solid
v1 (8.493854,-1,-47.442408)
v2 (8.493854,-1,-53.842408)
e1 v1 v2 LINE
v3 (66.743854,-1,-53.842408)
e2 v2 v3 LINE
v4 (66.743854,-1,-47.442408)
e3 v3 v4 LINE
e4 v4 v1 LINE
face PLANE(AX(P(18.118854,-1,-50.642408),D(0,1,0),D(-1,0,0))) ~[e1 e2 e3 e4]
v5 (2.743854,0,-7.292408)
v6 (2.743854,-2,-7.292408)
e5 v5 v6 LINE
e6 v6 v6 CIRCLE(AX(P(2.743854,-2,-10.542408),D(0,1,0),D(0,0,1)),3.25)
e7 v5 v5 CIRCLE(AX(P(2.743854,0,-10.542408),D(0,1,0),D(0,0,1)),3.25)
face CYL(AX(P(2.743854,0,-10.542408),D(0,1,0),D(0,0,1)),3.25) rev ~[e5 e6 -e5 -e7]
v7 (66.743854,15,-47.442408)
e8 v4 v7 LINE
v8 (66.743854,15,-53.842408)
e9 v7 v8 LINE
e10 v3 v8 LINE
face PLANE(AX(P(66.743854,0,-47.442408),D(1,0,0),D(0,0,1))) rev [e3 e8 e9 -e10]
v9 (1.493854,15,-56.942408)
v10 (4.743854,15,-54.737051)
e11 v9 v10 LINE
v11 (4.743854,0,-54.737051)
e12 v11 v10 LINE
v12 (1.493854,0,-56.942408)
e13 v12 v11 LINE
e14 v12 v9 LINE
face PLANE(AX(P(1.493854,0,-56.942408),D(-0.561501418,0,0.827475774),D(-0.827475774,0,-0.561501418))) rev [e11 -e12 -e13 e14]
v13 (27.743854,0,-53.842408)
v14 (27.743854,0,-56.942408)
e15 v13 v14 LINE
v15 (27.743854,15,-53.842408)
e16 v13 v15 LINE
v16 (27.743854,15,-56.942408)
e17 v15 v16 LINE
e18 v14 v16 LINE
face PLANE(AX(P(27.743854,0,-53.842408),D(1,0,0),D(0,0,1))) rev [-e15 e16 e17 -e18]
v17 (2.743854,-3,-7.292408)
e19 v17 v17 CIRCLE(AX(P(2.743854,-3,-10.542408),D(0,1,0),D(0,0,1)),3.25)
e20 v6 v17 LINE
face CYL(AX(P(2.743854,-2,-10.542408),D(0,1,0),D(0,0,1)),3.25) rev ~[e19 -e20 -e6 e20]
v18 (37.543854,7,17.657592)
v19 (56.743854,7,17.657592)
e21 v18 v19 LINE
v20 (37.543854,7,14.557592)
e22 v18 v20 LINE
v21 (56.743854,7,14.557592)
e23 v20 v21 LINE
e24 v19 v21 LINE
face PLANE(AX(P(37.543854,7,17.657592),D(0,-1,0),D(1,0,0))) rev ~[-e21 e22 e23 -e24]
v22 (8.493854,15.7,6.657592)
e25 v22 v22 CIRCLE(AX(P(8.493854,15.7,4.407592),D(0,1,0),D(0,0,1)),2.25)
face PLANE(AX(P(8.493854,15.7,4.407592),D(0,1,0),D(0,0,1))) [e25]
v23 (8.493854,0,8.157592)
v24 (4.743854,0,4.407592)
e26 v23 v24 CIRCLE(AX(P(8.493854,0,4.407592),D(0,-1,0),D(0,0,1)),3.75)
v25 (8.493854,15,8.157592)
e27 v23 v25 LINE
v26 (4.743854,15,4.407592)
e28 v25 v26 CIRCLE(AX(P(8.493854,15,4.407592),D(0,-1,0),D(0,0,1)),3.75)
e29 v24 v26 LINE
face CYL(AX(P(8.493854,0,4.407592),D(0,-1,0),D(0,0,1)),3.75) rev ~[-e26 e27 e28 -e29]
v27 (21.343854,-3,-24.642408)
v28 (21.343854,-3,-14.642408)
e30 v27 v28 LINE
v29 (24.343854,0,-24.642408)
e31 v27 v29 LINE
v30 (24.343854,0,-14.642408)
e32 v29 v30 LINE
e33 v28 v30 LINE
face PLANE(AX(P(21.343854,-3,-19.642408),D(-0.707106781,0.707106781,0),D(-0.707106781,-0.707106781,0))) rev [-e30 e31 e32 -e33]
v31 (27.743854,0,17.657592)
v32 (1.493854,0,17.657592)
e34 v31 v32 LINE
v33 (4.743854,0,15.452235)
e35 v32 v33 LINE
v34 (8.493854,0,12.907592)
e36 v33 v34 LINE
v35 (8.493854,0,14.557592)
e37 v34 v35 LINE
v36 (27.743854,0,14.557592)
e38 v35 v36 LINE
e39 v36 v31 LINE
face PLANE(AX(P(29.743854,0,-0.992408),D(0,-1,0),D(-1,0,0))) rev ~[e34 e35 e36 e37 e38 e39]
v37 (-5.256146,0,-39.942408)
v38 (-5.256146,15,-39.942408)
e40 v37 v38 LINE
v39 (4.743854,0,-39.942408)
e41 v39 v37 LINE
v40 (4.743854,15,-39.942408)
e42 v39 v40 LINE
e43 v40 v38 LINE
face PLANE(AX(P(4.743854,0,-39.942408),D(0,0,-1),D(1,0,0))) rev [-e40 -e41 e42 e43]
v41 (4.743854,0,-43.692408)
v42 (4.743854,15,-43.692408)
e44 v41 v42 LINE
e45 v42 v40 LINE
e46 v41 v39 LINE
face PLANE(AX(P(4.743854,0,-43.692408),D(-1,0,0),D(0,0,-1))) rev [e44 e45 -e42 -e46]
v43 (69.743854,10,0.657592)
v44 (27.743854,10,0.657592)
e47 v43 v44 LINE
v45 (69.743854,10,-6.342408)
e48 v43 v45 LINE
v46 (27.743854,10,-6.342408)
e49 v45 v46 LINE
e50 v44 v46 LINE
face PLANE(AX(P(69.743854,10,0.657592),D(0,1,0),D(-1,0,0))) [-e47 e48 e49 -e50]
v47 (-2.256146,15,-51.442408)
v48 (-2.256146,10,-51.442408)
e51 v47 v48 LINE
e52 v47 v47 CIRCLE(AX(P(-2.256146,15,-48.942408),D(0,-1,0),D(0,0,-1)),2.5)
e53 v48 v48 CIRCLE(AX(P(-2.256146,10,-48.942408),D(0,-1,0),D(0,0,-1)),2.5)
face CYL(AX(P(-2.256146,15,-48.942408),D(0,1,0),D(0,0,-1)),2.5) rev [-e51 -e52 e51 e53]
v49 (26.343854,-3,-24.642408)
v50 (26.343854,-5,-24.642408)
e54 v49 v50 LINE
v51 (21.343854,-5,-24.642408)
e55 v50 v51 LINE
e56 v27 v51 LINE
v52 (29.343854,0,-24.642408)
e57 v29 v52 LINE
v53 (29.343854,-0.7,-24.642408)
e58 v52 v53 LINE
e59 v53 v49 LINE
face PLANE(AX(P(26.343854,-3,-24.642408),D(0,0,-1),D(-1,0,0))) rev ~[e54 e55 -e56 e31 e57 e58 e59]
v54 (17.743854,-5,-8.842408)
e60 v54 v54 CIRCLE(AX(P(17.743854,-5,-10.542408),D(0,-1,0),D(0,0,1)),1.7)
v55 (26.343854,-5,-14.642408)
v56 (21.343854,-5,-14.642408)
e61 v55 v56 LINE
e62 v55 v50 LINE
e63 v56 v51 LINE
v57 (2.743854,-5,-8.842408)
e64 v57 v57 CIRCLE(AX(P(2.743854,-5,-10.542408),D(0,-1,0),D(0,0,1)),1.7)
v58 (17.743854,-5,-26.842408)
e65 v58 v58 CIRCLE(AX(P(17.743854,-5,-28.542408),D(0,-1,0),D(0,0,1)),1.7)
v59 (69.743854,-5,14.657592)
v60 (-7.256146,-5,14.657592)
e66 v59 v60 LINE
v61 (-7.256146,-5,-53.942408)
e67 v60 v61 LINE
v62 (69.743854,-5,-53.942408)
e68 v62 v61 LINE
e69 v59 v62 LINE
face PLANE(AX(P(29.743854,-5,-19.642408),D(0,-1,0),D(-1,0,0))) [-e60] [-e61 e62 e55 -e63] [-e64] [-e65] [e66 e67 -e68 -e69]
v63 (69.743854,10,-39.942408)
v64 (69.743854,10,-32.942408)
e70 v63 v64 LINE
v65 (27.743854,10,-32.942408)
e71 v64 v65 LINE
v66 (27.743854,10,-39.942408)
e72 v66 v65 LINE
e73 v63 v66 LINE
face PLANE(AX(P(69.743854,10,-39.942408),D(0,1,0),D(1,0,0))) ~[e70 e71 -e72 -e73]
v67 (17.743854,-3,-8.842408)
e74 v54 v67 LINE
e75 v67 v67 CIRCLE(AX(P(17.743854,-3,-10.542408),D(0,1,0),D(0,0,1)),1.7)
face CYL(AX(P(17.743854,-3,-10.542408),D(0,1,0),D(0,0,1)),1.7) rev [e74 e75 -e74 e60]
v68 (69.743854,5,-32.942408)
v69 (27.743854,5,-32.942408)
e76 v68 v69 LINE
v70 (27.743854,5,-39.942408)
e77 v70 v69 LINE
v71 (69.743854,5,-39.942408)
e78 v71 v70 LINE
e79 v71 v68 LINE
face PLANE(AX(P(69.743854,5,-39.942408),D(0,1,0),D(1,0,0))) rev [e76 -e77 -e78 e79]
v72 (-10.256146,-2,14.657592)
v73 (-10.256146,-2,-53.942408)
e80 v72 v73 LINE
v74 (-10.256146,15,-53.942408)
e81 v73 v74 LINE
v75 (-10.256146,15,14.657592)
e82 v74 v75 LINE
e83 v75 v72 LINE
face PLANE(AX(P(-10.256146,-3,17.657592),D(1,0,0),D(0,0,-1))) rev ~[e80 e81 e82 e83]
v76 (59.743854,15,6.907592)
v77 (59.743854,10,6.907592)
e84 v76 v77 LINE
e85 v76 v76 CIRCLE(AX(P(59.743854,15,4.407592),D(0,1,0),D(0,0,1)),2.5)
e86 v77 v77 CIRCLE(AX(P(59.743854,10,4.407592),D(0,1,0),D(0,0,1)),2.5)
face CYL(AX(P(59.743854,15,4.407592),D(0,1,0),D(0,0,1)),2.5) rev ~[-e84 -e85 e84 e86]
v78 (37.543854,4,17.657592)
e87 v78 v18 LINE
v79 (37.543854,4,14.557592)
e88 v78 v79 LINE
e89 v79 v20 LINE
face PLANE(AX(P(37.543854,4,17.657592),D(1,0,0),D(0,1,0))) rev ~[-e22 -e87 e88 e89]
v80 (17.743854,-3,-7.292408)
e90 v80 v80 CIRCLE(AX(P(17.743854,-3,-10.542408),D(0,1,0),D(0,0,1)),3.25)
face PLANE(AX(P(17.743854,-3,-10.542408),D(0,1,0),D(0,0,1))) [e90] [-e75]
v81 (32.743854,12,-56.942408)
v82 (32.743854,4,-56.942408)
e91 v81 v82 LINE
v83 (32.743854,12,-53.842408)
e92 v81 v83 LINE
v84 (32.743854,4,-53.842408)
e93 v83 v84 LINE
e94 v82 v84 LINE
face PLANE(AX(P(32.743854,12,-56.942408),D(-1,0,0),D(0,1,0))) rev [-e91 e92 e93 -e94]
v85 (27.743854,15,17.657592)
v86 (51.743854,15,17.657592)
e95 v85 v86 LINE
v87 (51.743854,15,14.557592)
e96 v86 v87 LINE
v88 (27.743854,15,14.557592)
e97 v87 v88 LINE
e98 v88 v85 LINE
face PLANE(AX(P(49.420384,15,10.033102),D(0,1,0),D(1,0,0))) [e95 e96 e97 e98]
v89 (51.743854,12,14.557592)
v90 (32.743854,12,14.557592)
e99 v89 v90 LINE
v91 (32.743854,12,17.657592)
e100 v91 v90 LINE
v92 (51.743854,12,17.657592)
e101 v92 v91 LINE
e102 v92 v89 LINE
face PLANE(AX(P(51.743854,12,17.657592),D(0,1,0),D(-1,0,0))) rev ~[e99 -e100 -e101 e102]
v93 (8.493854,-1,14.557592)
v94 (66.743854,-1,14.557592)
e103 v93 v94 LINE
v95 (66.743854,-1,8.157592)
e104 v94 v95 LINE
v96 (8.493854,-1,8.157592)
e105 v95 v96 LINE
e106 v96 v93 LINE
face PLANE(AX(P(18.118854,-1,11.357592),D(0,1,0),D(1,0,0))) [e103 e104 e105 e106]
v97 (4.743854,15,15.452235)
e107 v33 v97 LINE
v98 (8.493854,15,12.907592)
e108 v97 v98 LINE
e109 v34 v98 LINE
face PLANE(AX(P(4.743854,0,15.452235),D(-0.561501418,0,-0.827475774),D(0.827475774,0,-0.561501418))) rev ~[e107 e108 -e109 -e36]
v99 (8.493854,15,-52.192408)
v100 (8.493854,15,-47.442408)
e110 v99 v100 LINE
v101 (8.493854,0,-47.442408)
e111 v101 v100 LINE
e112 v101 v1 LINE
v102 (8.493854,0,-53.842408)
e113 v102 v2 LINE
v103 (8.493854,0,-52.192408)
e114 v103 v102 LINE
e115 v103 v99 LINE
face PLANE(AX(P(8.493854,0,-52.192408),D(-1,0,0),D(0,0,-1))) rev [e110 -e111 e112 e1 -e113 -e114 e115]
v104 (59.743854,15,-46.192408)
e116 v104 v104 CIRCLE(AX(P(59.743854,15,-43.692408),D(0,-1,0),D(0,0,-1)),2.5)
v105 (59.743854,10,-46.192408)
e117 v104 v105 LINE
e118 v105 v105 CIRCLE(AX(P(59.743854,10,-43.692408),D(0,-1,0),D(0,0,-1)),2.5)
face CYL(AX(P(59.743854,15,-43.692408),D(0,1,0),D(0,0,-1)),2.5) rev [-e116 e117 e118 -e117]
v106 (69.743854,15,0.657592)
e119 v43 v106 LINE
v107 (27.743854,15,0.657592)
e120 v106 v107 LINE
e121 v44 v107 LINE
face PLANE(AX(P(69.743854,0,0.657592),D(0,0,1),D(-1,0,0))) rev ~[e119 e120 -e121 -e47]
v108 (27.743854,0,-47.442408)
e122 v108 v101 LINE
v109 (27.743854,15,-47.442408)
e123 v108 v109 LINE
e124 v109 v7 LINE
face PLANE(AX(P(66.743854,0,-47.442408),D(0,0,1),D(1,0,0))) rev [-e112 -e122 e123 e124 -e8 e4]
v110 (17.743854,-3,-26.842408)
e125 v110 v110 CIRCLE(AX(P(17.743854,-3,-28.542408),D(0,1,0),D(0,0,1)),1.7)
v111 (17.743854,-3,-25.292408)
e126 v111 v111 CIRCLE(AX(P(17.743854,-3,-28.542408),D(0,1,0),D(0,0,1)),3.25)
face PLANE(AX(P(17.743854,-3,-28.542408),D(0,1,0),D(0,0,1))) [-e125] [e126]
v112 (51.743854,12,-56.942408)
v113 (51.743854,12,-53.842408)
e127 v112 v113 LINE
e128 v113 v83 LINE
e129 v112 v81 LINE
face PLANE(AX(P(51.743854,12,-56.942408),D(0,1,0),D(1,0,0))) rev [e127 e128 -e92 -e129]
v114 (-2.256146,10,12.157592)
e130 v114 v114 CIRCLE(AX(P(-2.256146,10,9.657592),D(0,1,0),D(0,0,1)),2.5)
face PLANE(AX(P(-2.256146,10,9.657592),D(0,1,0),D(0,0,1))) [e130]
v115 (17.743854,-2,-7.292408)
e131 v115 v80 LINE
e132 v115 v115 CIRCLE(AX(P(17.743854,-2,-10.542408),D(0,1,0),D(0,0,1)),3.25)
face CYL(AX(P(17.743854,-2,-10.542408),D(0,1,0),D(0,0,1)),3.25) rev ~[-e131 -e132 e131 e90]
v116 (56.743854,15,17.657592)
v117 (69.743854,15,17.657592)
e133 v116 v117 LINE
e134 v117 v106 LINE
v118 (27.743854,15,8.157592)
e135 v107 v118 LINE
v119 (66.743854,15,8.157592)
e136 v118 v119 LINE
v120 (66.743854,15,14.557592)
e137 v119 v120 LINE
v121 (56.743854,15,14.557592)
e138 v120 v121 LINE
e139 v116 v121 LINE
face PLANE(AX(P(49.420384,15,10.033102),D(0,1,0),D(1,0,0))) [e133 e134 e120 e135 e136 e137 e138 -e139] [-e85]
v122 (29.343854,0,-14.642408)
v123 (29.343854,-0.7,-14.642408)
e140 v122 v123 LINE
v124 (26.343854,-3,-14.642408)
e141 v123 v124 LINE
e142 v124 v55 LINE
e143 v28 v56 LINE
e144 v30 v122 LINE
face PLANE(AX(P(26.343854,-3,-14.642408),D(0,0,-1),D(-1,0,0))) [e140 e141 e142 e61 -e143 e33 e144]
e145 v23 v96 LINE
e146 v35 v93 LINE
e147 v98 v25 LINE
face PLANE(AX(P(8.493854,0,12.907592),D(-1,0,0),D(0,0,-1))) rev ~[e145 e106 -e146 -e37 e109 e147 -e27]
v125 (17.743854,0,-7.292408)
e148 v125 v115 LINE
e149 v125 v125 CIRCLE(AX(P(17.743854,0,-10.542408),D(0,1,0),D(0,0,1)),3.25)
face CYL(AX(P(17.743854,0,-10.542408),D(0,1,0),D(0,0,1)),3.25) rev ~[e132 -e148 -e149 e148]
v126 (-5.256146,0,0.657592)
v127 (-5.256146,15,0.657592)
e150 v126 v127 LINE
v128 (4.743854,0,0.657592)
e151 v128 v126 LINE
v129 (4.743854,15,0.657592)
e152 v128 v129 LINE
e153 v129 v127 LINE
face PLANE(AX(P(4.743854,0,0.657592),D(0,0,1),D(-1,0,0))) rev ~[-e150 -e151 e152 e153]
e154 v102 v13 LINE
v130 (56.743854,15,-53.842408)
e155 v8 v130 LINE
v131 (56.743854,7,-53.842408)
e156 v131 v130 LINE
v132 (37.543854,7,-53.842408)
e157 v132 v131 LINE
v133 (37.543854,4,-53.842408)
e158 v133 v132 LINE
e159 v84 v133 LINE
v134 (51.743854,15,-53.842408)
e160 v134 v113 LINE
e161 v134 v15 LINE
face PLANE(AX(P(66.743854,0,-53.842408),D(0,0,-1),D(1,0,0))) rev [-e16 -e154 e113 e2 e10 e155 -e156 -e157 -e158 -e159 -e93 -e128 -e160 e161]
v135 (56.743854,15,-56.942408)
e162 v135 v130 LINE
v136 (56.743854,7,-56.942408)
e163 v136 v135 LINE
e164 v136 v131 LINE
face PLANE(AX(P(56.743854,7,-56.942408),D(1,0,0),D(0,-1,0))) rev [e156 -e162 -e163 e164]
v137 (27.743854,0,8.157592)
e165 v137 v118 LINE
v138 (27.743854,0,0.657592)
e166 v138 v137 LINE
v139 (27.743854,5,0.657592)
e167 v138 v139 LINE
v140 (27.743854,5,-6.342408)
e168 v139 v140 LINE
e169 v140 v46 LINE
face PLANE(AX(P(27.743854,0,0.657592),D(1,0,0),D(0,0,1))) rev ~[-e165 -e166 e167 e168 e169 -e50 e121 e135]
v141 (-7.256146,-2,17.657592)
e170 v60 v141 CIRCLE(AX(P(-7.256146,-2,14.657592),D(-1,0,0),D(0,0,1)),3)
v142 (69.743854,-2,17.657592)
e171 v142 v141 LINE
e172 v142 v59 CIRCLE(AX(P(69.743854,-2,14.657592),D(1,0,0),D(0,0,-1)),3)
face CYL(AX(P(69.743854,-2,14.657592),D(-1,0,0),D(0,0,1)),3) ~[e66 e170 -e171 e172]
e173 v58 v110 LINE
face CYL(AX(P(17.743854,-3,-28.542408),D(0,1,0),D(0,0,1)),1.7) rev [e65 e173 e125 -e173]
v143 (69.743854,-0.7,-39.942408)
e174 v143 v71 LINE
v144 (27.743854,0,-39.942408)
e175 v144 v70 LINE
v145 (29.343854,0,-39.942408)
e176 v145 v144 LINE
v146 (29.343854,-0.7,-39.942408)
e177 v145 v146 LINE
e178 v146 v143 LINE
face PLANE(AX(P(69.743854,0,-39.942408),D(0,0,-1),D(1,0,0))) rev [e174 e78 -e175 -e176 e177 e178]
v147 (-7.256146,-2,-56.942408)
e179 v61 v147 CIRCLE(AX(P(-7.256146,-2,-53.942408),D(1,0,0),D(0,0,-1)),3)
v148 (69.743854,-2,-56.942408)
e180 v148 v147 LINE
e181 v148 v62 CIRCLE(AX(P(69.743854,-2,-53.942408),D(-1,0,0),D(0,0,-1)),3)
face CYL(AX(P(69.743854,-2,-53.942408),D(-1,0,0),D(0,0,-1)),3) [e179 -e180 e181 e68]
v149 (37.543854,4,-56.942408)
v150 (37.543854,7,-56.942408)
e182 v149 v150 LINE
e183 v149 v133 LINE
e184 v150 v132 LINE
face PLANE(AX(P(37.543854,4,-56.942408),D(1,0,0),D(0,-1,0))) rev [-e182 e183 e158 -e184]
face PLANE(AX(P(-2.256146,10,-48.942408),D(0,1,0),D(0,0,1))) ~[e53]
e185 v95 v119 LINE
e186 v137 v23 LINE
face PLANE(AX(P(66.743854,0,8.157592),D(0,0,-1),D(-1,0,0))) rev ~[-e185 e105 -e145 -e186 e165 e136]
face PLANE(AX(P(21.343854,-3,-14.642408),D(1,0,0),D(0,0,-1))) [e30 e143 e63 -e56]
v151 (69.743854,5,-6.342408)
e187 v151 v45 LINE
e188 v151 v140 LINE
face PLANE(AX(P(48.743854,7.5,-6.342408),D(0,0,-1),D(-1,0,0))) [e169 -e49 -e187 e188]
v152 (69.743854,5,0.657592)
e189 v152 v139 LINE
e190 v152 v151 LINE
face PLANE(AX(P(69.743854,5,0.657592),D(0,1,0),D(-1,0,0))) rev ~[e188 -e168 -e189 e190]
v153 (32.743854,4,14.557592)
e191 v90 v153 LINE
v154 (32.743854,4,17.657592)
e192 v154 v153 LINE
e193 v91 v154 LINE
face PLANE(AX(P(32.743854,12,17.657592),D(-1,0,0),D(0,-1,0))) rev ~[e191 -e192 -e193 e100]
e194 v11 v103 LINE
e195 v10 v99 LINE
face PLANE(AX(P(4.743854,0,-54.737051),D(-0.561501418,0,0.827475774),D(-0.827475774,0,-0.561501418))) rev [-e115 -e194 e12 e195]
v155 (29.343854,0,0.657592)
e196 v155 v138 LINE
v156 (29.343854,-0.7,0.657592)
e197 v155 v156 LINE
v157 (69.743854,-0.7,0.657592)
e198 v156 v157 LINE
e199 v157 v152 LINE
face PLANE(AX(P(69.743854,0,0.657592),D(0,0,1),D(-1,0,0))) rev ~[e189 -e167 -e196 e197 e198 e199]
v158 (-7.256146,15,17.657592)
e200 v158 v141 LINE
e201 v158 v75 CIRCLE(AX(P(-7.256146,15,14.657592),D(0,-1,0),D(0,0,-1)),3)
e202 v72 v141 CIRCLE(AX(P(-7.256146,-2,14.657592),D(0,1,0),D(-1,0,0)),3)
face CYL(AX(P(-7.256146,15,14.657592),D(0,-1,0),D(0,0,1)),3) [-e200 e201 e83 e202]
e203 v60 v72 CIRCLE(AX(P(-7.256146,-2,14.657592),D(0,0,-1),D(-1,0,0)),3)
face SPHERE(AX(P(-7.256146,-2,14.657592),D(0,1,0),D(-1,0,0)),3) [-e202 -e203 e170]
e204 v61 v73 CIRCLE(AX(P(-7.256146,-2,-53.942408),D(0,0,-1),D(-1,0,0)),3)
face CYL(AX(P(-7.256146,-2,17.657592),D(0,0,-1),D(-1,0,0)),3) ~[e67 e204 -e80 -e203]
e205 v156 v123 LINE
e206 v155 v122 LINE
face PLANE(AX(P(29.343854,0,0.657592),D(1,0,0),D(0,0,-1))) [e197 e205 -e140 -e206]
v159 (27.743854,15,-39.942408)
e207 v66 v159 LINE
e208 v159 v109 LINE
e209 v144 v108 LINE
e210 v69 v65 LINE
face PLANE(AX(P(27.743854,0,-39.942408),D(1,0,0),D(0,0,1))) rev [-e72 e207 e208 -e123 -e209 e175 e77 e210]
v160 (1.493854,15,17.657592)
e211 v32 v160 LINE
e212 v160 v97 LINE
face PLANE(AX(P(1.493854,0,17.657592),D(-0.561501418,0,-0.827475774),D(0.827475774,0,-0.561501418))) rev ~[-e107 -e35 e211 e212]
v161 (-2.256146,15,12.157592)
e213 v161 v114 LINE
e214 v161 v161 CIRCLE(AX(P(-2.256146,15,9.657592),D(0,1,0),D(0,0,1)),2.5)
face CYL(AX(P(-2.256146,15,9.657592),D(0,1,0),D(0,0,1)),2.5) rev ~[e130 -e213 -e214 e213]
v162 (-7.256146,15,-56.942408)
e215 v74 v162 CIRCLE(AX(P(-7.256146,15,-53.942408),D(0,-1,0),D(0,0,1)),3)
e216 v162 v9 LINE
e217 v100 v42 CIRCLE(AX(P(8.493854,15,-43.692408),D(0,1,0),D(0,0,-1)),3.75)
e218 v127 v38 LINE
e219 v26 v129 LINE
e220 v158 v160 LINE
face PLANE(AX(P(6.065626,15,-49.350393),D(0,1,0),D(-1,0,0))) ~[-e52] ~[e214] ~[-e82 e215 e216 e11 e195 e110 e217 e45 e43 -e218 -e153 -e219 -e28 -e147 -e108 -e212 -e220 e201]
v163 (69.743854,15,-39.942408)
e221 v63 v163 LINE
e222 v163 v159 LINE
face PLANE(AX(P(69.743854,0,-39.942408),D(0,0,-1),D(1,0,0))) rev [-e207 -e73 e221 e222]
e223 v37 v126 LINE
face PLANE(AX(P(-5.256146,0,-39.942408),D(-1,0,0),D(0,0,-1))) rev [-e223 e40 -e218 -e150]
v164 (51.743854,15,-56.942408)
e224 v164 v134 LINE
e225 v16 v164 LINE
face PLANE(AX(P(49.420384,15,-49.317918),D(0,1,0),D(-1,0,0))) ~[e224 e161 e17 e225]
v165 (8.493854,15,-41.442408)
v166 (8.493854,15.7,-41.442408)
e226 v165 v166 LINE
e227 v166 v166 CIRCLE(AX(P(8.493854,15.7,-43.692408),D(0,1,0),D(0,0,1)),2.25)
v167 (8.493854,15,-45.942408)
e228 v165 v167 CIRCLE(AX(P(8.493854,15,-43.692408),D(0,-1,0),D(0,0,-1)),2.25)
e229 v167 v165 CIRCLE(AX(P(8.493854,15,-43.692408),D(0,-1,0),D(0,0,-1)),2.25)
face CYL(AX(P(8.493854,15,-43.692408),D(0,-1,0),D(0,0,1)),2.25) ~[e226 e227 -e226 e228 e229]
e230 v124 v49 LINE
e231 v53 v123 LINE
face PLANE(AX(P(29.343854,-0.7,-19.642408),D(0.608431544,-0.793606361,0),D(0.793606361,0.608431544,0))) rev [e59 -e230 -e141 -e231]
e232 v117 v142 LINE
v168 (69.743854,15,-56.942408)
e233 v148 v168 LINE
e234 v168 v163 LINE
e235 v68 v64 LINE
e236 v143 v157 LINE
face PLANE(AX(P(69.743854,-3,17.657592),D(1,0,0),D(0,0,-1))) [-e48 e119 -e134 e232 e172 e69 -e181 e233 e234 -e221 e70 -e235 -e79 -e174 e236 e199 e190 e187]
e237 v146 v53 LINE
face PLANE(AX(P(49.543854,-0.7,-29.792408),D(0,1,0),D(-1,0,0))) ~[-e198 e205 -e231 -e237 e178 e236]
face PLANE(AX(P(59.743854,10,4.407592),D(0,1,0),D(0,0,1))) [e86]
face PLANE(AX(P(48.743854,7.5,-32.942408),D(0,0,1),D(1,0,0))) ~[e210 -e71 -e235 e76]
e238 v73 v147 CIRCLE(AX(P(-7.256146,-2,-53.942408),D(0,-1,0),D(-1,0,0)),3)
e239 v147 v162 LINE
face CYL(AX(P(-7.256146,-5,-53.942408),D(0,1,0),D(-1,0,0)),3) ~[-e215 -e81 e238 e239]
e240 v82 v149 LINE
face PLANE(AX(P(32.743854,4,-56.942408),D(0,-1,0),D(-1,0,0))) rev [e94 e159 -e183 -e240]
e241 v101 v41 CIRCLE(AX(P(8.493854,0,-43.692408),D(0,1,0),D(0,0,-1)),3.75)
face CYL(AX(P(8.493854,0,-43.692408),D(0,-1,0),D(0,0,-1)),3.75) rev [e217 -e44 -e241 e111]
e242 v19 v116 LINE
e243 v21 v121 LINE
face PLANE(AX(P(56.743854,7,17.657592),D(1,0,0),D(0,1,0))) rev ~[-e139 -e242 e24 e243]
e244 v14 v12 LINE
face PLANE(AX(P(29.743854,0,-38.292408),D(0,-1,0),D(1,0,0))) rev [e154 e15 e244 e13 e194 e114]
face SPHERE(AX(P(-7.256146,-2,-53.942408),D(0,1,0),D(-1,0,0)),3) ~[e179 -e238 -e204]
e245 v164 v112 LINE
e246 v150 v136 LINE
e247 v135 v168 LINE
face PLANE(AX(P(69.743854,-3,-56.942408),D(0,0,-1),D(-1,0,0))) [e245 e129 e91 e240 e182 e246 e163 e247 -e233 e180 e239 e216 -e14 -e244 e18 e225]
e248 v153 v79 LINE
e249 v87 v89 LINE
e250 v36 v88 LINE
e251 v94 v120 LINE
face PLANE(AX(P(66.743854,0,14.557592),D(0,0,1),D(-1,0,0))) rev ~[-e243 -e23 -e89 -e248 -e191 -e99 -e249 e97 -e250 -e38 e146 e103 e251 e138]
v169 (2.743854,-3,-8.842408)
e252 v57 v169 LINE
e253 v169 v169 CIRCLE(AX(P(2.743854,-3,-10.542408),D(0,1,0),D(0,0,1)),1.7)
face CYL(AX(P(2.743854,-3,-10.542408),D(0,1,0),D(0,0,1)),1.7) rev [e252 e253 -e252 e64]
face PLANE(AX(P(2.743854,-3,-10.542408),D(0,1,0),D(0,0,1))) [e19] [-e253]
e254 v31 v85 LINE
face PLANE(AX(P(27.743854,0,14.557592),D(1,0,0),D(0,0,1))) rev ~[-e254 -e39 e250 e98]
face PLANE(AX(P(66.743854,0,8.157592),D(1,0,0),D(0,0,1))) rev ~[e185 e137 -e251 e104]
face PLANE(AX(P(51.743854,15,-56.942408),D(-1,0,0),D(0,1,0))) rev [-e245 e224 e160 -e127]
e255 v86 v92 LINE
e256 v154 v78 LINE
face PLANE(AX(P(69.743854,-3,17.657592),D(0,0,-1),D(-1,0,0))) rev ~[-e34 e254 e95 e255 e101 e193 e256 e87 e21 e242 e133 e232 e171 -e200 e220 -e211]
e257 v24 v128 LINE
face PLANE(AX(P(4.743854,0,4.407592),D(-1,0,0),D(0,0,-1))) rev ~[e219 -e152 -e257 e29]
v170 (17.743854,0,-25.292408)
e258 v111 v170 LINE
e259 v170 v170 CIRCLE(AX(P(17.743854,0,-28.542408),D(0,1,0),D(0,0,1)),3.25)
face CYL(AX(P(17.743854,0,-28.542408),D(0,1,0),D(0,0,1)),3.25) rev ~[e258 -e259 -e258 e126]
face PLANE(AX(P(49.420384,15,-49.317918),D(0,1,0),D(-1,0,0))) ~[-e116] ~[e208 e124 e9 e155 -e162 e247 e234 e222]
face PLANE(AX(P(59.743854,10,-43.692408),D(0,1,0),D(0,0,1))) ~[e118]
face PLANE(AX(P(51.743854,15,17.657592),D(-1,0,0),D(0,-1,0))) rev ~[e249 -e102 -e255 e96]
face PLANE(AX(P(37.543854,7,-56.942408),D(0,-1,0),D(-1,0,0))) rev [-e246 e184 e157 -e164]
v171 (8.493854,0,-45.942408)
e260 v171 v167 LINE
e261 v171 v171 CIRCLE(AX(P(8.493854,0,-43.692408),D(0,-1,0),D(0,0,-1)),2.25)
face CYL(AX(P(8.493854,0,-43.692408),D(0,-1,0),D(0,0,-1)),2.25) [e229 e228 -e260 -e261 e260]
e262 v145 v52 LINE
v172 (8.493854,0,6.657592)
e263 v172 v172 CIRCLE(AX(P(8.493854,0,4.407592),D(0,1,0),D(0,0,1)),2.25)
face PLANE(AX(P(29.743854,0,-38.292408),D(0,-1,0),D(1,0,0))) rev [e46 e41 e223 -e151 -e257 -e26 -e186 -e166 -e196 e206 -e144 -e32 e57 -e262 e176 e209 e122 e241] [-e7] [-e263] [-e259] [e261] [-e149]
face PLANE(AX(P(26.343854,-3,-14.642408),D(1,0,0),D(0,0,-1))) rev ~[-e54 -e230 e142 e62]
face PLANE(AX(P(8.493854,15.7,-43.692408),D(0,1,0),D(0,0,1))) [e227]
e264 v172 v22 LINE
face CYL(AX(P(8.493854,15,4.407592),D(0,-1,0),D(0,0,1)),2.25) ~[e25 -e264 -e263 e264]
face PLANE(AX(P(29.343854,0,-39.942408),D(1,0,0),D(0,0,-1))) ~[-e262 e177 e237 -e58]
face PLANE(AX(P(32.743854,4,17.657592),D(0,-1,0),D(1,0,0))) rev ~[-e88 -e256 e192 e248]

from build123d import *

# Parameters (mm, degrees)
SKETCH2_R           = 2.25
BOSS_EXTRUDE1_DEPTH = 15
SKETCH3_W           = 80
SKETCH3_H           = 37.3
BOSS_EXTRUDE2_DEPTH = 3
SKETCH2_6_W         = 39
SKETCH2_6_H         = 6.4
CUT_EXTRUDE1_DEPTH  = 1
CUT_EXTRUDE4_DEPTH  = 3.1
SKETCH5_W           = 42
SKETCH5_H           = 5
BOSS_EXTRUDE3_DEPTH = 7
SKETCH6_W           = 40.4
SKETCH6_H           = 20.3
CUT_EXTRUDE5_DEPTH  = 0.7
CUT_EXTRUDE6_DEPTH  = 5
SKETCH8_R           = 2.5
CUT_EXTRUDE7_DEPTH  = 5
SKETCH9_R           = 3.25
SKETCH9_R_2         = 1.7
CUT_EXTRUDE8_DEPTH  = 2
SKETCH10_R          = 1.7
CUT_EXTRUDE10_DEPTH = 92.27783365
SKETCH11_R          = 2.25
BOSS_EXTRUDE4_DEPTH = 0.7
SKETCH12_R          = 2.25
BOSS_EXTRUDE5_DEPTH = 0.7
SKETCH13_W          = 80
SKETCH13_H          = 74.6
SKETCH13_R          = 1.7
SKETCH13_W_2        = 5
SKETCH13_H_2        = 10
BOSS_EXTRUDE6_DEPTH = 2
FILLET1_R           = 3
SKETCH14_R          = 3.25
CUT_EXTRUDE11_DEPTH = 1


with BuildPart() as part:
    # Sketch2 → Boss-Extrude1 (new body)
    with BuildSketch(Plane(origin=(0, 0, 0), x_dir=(1, 0, 0), z_dir=(0, 1, 0))):
        Polygon((69.743853574, -17.657592215), (69.743853574, -0.657592215), (27.743853574, -0.657592215), (27.743853574, -8.157592215), (66.743853574, -8.157592215), (66.743853574, -14.557592215), (27.743853574, -14.557592215), (27.743853574, -17.657592215), align=None)
        with Locations(Location((8.493853574, -4.407592215, 0), (0, 0, 270))):
            Circle(SKETCH2_R)
        with BuildLine():
            ThreePointArc((8.493853574, -8.157592215), (5.842203145, -7.059242644), (4.743853574, -4.407592215))
            Line((4.743853574, -4.407592215), (4.743853574, -15.452235072))
            Line((4.743853574, -15.452235072), (8.493853574, -12.907592215))
            Line((8.493853574, -12.907592215), (8.493853574, -8.157592215))
        make_face()
        Polygon((-5.256146426, -0.657592215), (-5.256146426, 19.642407785), (-10.256146426, 19.642407785), (-10.256146426, -17.657592215), (1.493853574, -17.657592215), (4.743853574, -15.452235072), (4.743853574, -4.407592215), (4.743853574, -0.657592215), align=None)
    extrude(amount=BOSS_EXTRUDE1_DEPTH)

    # Sketch3 → Boss-Extrude2 (add)
    with BuildSketch(Plane(origin=(0, 0, 0), x_dir=(-1, 0, 0), z_dir=(0, -1, 0))):
        with Locations((-29.743853574, 0.992407785)):
            Rectangle(SKETCH3_W, SKETCH3_H)
    extrude(amount=BOSS_EXTRUDE2_DEPTH)

    # Sketch2<6> → Cut-Extrude1 (cut)
    with BuildSketch(Plane(origin=(0, 0, 0), x_dir=(1, 0, 0), z_dir=(0, 1, 0))):
        Polygon((27.743853574, -8.157592215), (8.493853574, -8.157592215), (8.493853574, -12.907592215), (8.493853574, -14.557592215), (27.743853574, -14.557592215), align=None)
        with Locations((47.243853574, -11.357592215)):
            Rectangle(SKETCH2_6_W, SKETCH2_6_H)
    extrude(amount=-CUT_EXTRUDE1_DEPTH, mode=Mode.SUBTRACT)

    # Sketch4 → Cut-Extrude4 (cut)
    with BuildSketch(Plane.XY.offset(17.657592215)):
        Polygon((37.543853574, 7), (56.743853574, 7), (56.743853574, 15), (51.743853574, 15), (51.743853574, 12), (32.743853574, 12), (32.743853574, 4), (37.543853574, 4), align=None)
    extrude(amount=-CUT_EXTRUDE4_DEPTH, mode=Mode.SUBTRACT)

    # Sketch5 → Boss-Extrude3 (add)
    with BuildSketch(Plane(origin=(0, 0, 0.657592215), x_dir=(-1, 0, 0), z_dir=(0, 0, -1))):
        with Locations((-48.743853574, 7.5)):
            Rectangle(SKETCH5_W, SKETCH5_H)
    extrude(amount=BOSS_EXTRUDE3_DEPTH)

    # Sketch6 → Cut-Extrude5 (cut)
    with BuildSketch(Plane(origin=(0, 0, 0), x_dir=(1, 0, 0), z_dir=(0, 1, 0))):
        with Locations((49.543853574, 9.492407785)):
            Rectangle(SKETCH6_W, SKETCH6_H)
    extrude(amount=-CUT_EXTRUDE5_DEPTH, mode=Mode.SUBTRACT)

    # Sketch7 → Cut-Extrude6 (cut)
    with BuildSketch(Plane(origin=(0, 0, -19.642407785), x_dir=(-1, 0, 0), z_dir=(0, 0, -1))):
        Polygon((-29.343853574, -0.7), (-26.343853574, -3), (-21.343853574, -3), (-24.343853574, 0), (-29.343853574, 0), align=None)
    extrude(amount=-CUT_EXTRUDE6_DEPTH, mode=Mode.SUBTRACT)

    # Sketch8 → Cut-Extrude7 (cut)
    with BuildSketch(Plane(origin=(0, 15, 0), x_dir=(1, 0, 0), z_dir=(0, 1, 0))):
        with Locations(Location((-2.256146426, -9.657592215, 0), (0, 0, 270))):
            Circle(SKETCH8_R)
        with Locations(Location((59.743853574, -4.407592215, 0), (0, 0, 270))):
            Circle(SKETCH8_R)
    extrude(amount=-CUT_EXTRUDE7_DEPTH, mode=Mode.SUBTRACT)

    # Mirror1: part across plane


with BuildPart() as part_1:
    add(part.part)
    add(part.part.mirror(Plane(origin=(-10.256146426, -3, -19.642407785), x_dir=(1, 0, 0), z_dir=(0, 0, 1))))

    # Sketch9 → Cut-Extrude8 (cut)
    # profile 1 of 3: a face of its own
    with BuildSketch(Plane(origin=(0, 0, 0), x_dir=(1, 0, 0), z_dir=(0, 1, 0))):
        with Locations(Location((17.743853574, 28.542407785, 0), (0, 0, 270))):
            Circle(SKETCH9_R)
        with Locations(Location((17.743853574, 28.542407785, 0), (0, 0, 270))):
            Circle(SKETCH9_R_2, mode=Mode.SUBTRACT)
    # profile 2 of 3: a face of its own
    with BuildSketch(Plane(origin=(0, 0, 0), x_dir=(1, 0, 0), z_dir=(0, 1, 0))):
        with Locations(Location((17.743853574, 10.542407785, 0), (0, 0, 270))):
            Circle(SKETCH9_R)
        with Locations(Location((17.743853574, 10.542407785, 0), (0, 0, 270))):
            Circle(SKETCH9_R_2, mode=Mode.SUBTRACT)
    # profile 3 of 3: a face of its own
    with BuildSketch(Plane(origin=(0, 0, 0), x_dir=(1, 0, 0), z_dir=(0, 1, 0))):
        with Locations(Location((2.743853574, 10.542407785, 0), (0, 0, 270))):
            Circle(SKETCH9_R)
        with Locations(Location((2.743853574, 10.542407785, 0), (0, 0, 270))):
            Circle(SKETCH9_R_2, mode=Mode.SUBTRACT)
    extrude(amount=-CUT_EXTRUDE8_DEPTH, mode=Mode.SUBTRACT)

    # Sketch10 → Cut-Extrude10 (cut, through all)
    with BuildSketch(Plane(origin=(0, 0, 0), x_dir=(1, 0, 0), z_dir=(0, 1, 0))):
        with Locations(Location((17.743853574, 28.542407785, 0), (0, 0, 270))):
            Circle(SKETCH10_R)
        with Locations(Location((17.743853574, 10.542407785, 0), (0, 0, 270))):
            Circle(SKETCH10_R)
        with Locations(Location((2.743853574, 10.542407785, 0), (0, 0, 270))):
            Circle(SKETCH10_R)
    extrude(amount=-CUT_EXTRUDE10_DEPTH, mode=Mode.SUBTRACT)

    # Sketch11 → Boss-Extrude4 (add)
    with BuildSketch(Plane(origin=(0, 15, 0), x_dir=(1, 0, 0), z_dir=(0, 1, 0))):
        with Locations(Location((8.493853574, -4.407592215, 0), (0, 0, 270))):
            Circle(SKETCH11_R)
    extrude(amount=BOSS_EXTRUDE4_DEPTH)

    # Sketch12 → Boss-Extrude5 (add)
    with BuildSketch(Plane(origin=(0, 15, 0), x_dir=(1, 0, 0), z_dir=(0, 1, 0))):
        with Locations(Location((8.493853574, 43.692407785, 0), (0, 0, 270))):
            Circle(SKETCH12_R)
    extrude(amount=BOSS_EXTRUDE5_DEPTH)

    # Sketch13 → Boss-Extrude6 (add)
    with BuildSketch(Plane(origin=(0, -3, 0), x_dir=(-1, 0, 0), z_dir=(0, -1, 0))):
        with Locations((-29.743853574, 19.642407785)):
            Rectangle(SKETCH13_W, SKETCH13_H)
        with Locations(Location((-17.743853574, 28.542407785, 0), (0, 0, 270))):
            Circle(SKETCH13_R, mode=Mode.SUBTRACT)
        with Locations(Location((-17.743853574, 10.542407785, 0), (0, 0, 270))):
            Circle(SKETCH13_R, mode=Mode.SUBTRACT)
        with Locations(Location((-2.743853574, 10.542407785, 0), (0, 0, 270))):
            Circle(SKETCH13_R, mode=Mode.SUBTRACT)
        with Locations((-23.843853574, 19.642407785)):
            Rectangle(SKETCH13_W_2, SKETCH13_H_2, mode=Mode.SUBTRACT)
    extrude(amount=BOSS_EXTRUDE6_DEPTH)

    # Fillet1
    fillet1_edges = [part_1.edges().sort_by_distance(p)[0] for p in [
        (-10.256146426, 5, -56.942407785),
        (-10.256146426, 5, 17.657592215),
        (-10.256146426, -5, -19.642407785),
        (29.743853574, -5, -56.942407785),
        (29.743853574, -5, 17.657592215),
    ]]
    fillet(fillet1_edges, radius=FILLET1_R)

    # Sketch14 → Cut-Extrude11 (cut)
    with BuildSketch(Plane(origin=(0, -2, 0), x_dir=(1, 0, 0), z_dir=(0, 1, 0))):
        with Locations(Location((17.743853574, 28.542407785, 0), (0, 0, 270))):
            Circle(SKETCH14_R)
        with Locations(Location((17.743853574, 10.542407785, 0), (0, 0, 270))):
            Circle(SKETCH14_R)
        with Locations(Location((2.743853574, 10.542407785, 0), (0, 0, 270))):
            Circle(SKETCH14_R)
    extrude(amount=-CUT_EXTRUDE11_DEPTH, mode=Mode.SUBTRACT)


solid = part_1.part
